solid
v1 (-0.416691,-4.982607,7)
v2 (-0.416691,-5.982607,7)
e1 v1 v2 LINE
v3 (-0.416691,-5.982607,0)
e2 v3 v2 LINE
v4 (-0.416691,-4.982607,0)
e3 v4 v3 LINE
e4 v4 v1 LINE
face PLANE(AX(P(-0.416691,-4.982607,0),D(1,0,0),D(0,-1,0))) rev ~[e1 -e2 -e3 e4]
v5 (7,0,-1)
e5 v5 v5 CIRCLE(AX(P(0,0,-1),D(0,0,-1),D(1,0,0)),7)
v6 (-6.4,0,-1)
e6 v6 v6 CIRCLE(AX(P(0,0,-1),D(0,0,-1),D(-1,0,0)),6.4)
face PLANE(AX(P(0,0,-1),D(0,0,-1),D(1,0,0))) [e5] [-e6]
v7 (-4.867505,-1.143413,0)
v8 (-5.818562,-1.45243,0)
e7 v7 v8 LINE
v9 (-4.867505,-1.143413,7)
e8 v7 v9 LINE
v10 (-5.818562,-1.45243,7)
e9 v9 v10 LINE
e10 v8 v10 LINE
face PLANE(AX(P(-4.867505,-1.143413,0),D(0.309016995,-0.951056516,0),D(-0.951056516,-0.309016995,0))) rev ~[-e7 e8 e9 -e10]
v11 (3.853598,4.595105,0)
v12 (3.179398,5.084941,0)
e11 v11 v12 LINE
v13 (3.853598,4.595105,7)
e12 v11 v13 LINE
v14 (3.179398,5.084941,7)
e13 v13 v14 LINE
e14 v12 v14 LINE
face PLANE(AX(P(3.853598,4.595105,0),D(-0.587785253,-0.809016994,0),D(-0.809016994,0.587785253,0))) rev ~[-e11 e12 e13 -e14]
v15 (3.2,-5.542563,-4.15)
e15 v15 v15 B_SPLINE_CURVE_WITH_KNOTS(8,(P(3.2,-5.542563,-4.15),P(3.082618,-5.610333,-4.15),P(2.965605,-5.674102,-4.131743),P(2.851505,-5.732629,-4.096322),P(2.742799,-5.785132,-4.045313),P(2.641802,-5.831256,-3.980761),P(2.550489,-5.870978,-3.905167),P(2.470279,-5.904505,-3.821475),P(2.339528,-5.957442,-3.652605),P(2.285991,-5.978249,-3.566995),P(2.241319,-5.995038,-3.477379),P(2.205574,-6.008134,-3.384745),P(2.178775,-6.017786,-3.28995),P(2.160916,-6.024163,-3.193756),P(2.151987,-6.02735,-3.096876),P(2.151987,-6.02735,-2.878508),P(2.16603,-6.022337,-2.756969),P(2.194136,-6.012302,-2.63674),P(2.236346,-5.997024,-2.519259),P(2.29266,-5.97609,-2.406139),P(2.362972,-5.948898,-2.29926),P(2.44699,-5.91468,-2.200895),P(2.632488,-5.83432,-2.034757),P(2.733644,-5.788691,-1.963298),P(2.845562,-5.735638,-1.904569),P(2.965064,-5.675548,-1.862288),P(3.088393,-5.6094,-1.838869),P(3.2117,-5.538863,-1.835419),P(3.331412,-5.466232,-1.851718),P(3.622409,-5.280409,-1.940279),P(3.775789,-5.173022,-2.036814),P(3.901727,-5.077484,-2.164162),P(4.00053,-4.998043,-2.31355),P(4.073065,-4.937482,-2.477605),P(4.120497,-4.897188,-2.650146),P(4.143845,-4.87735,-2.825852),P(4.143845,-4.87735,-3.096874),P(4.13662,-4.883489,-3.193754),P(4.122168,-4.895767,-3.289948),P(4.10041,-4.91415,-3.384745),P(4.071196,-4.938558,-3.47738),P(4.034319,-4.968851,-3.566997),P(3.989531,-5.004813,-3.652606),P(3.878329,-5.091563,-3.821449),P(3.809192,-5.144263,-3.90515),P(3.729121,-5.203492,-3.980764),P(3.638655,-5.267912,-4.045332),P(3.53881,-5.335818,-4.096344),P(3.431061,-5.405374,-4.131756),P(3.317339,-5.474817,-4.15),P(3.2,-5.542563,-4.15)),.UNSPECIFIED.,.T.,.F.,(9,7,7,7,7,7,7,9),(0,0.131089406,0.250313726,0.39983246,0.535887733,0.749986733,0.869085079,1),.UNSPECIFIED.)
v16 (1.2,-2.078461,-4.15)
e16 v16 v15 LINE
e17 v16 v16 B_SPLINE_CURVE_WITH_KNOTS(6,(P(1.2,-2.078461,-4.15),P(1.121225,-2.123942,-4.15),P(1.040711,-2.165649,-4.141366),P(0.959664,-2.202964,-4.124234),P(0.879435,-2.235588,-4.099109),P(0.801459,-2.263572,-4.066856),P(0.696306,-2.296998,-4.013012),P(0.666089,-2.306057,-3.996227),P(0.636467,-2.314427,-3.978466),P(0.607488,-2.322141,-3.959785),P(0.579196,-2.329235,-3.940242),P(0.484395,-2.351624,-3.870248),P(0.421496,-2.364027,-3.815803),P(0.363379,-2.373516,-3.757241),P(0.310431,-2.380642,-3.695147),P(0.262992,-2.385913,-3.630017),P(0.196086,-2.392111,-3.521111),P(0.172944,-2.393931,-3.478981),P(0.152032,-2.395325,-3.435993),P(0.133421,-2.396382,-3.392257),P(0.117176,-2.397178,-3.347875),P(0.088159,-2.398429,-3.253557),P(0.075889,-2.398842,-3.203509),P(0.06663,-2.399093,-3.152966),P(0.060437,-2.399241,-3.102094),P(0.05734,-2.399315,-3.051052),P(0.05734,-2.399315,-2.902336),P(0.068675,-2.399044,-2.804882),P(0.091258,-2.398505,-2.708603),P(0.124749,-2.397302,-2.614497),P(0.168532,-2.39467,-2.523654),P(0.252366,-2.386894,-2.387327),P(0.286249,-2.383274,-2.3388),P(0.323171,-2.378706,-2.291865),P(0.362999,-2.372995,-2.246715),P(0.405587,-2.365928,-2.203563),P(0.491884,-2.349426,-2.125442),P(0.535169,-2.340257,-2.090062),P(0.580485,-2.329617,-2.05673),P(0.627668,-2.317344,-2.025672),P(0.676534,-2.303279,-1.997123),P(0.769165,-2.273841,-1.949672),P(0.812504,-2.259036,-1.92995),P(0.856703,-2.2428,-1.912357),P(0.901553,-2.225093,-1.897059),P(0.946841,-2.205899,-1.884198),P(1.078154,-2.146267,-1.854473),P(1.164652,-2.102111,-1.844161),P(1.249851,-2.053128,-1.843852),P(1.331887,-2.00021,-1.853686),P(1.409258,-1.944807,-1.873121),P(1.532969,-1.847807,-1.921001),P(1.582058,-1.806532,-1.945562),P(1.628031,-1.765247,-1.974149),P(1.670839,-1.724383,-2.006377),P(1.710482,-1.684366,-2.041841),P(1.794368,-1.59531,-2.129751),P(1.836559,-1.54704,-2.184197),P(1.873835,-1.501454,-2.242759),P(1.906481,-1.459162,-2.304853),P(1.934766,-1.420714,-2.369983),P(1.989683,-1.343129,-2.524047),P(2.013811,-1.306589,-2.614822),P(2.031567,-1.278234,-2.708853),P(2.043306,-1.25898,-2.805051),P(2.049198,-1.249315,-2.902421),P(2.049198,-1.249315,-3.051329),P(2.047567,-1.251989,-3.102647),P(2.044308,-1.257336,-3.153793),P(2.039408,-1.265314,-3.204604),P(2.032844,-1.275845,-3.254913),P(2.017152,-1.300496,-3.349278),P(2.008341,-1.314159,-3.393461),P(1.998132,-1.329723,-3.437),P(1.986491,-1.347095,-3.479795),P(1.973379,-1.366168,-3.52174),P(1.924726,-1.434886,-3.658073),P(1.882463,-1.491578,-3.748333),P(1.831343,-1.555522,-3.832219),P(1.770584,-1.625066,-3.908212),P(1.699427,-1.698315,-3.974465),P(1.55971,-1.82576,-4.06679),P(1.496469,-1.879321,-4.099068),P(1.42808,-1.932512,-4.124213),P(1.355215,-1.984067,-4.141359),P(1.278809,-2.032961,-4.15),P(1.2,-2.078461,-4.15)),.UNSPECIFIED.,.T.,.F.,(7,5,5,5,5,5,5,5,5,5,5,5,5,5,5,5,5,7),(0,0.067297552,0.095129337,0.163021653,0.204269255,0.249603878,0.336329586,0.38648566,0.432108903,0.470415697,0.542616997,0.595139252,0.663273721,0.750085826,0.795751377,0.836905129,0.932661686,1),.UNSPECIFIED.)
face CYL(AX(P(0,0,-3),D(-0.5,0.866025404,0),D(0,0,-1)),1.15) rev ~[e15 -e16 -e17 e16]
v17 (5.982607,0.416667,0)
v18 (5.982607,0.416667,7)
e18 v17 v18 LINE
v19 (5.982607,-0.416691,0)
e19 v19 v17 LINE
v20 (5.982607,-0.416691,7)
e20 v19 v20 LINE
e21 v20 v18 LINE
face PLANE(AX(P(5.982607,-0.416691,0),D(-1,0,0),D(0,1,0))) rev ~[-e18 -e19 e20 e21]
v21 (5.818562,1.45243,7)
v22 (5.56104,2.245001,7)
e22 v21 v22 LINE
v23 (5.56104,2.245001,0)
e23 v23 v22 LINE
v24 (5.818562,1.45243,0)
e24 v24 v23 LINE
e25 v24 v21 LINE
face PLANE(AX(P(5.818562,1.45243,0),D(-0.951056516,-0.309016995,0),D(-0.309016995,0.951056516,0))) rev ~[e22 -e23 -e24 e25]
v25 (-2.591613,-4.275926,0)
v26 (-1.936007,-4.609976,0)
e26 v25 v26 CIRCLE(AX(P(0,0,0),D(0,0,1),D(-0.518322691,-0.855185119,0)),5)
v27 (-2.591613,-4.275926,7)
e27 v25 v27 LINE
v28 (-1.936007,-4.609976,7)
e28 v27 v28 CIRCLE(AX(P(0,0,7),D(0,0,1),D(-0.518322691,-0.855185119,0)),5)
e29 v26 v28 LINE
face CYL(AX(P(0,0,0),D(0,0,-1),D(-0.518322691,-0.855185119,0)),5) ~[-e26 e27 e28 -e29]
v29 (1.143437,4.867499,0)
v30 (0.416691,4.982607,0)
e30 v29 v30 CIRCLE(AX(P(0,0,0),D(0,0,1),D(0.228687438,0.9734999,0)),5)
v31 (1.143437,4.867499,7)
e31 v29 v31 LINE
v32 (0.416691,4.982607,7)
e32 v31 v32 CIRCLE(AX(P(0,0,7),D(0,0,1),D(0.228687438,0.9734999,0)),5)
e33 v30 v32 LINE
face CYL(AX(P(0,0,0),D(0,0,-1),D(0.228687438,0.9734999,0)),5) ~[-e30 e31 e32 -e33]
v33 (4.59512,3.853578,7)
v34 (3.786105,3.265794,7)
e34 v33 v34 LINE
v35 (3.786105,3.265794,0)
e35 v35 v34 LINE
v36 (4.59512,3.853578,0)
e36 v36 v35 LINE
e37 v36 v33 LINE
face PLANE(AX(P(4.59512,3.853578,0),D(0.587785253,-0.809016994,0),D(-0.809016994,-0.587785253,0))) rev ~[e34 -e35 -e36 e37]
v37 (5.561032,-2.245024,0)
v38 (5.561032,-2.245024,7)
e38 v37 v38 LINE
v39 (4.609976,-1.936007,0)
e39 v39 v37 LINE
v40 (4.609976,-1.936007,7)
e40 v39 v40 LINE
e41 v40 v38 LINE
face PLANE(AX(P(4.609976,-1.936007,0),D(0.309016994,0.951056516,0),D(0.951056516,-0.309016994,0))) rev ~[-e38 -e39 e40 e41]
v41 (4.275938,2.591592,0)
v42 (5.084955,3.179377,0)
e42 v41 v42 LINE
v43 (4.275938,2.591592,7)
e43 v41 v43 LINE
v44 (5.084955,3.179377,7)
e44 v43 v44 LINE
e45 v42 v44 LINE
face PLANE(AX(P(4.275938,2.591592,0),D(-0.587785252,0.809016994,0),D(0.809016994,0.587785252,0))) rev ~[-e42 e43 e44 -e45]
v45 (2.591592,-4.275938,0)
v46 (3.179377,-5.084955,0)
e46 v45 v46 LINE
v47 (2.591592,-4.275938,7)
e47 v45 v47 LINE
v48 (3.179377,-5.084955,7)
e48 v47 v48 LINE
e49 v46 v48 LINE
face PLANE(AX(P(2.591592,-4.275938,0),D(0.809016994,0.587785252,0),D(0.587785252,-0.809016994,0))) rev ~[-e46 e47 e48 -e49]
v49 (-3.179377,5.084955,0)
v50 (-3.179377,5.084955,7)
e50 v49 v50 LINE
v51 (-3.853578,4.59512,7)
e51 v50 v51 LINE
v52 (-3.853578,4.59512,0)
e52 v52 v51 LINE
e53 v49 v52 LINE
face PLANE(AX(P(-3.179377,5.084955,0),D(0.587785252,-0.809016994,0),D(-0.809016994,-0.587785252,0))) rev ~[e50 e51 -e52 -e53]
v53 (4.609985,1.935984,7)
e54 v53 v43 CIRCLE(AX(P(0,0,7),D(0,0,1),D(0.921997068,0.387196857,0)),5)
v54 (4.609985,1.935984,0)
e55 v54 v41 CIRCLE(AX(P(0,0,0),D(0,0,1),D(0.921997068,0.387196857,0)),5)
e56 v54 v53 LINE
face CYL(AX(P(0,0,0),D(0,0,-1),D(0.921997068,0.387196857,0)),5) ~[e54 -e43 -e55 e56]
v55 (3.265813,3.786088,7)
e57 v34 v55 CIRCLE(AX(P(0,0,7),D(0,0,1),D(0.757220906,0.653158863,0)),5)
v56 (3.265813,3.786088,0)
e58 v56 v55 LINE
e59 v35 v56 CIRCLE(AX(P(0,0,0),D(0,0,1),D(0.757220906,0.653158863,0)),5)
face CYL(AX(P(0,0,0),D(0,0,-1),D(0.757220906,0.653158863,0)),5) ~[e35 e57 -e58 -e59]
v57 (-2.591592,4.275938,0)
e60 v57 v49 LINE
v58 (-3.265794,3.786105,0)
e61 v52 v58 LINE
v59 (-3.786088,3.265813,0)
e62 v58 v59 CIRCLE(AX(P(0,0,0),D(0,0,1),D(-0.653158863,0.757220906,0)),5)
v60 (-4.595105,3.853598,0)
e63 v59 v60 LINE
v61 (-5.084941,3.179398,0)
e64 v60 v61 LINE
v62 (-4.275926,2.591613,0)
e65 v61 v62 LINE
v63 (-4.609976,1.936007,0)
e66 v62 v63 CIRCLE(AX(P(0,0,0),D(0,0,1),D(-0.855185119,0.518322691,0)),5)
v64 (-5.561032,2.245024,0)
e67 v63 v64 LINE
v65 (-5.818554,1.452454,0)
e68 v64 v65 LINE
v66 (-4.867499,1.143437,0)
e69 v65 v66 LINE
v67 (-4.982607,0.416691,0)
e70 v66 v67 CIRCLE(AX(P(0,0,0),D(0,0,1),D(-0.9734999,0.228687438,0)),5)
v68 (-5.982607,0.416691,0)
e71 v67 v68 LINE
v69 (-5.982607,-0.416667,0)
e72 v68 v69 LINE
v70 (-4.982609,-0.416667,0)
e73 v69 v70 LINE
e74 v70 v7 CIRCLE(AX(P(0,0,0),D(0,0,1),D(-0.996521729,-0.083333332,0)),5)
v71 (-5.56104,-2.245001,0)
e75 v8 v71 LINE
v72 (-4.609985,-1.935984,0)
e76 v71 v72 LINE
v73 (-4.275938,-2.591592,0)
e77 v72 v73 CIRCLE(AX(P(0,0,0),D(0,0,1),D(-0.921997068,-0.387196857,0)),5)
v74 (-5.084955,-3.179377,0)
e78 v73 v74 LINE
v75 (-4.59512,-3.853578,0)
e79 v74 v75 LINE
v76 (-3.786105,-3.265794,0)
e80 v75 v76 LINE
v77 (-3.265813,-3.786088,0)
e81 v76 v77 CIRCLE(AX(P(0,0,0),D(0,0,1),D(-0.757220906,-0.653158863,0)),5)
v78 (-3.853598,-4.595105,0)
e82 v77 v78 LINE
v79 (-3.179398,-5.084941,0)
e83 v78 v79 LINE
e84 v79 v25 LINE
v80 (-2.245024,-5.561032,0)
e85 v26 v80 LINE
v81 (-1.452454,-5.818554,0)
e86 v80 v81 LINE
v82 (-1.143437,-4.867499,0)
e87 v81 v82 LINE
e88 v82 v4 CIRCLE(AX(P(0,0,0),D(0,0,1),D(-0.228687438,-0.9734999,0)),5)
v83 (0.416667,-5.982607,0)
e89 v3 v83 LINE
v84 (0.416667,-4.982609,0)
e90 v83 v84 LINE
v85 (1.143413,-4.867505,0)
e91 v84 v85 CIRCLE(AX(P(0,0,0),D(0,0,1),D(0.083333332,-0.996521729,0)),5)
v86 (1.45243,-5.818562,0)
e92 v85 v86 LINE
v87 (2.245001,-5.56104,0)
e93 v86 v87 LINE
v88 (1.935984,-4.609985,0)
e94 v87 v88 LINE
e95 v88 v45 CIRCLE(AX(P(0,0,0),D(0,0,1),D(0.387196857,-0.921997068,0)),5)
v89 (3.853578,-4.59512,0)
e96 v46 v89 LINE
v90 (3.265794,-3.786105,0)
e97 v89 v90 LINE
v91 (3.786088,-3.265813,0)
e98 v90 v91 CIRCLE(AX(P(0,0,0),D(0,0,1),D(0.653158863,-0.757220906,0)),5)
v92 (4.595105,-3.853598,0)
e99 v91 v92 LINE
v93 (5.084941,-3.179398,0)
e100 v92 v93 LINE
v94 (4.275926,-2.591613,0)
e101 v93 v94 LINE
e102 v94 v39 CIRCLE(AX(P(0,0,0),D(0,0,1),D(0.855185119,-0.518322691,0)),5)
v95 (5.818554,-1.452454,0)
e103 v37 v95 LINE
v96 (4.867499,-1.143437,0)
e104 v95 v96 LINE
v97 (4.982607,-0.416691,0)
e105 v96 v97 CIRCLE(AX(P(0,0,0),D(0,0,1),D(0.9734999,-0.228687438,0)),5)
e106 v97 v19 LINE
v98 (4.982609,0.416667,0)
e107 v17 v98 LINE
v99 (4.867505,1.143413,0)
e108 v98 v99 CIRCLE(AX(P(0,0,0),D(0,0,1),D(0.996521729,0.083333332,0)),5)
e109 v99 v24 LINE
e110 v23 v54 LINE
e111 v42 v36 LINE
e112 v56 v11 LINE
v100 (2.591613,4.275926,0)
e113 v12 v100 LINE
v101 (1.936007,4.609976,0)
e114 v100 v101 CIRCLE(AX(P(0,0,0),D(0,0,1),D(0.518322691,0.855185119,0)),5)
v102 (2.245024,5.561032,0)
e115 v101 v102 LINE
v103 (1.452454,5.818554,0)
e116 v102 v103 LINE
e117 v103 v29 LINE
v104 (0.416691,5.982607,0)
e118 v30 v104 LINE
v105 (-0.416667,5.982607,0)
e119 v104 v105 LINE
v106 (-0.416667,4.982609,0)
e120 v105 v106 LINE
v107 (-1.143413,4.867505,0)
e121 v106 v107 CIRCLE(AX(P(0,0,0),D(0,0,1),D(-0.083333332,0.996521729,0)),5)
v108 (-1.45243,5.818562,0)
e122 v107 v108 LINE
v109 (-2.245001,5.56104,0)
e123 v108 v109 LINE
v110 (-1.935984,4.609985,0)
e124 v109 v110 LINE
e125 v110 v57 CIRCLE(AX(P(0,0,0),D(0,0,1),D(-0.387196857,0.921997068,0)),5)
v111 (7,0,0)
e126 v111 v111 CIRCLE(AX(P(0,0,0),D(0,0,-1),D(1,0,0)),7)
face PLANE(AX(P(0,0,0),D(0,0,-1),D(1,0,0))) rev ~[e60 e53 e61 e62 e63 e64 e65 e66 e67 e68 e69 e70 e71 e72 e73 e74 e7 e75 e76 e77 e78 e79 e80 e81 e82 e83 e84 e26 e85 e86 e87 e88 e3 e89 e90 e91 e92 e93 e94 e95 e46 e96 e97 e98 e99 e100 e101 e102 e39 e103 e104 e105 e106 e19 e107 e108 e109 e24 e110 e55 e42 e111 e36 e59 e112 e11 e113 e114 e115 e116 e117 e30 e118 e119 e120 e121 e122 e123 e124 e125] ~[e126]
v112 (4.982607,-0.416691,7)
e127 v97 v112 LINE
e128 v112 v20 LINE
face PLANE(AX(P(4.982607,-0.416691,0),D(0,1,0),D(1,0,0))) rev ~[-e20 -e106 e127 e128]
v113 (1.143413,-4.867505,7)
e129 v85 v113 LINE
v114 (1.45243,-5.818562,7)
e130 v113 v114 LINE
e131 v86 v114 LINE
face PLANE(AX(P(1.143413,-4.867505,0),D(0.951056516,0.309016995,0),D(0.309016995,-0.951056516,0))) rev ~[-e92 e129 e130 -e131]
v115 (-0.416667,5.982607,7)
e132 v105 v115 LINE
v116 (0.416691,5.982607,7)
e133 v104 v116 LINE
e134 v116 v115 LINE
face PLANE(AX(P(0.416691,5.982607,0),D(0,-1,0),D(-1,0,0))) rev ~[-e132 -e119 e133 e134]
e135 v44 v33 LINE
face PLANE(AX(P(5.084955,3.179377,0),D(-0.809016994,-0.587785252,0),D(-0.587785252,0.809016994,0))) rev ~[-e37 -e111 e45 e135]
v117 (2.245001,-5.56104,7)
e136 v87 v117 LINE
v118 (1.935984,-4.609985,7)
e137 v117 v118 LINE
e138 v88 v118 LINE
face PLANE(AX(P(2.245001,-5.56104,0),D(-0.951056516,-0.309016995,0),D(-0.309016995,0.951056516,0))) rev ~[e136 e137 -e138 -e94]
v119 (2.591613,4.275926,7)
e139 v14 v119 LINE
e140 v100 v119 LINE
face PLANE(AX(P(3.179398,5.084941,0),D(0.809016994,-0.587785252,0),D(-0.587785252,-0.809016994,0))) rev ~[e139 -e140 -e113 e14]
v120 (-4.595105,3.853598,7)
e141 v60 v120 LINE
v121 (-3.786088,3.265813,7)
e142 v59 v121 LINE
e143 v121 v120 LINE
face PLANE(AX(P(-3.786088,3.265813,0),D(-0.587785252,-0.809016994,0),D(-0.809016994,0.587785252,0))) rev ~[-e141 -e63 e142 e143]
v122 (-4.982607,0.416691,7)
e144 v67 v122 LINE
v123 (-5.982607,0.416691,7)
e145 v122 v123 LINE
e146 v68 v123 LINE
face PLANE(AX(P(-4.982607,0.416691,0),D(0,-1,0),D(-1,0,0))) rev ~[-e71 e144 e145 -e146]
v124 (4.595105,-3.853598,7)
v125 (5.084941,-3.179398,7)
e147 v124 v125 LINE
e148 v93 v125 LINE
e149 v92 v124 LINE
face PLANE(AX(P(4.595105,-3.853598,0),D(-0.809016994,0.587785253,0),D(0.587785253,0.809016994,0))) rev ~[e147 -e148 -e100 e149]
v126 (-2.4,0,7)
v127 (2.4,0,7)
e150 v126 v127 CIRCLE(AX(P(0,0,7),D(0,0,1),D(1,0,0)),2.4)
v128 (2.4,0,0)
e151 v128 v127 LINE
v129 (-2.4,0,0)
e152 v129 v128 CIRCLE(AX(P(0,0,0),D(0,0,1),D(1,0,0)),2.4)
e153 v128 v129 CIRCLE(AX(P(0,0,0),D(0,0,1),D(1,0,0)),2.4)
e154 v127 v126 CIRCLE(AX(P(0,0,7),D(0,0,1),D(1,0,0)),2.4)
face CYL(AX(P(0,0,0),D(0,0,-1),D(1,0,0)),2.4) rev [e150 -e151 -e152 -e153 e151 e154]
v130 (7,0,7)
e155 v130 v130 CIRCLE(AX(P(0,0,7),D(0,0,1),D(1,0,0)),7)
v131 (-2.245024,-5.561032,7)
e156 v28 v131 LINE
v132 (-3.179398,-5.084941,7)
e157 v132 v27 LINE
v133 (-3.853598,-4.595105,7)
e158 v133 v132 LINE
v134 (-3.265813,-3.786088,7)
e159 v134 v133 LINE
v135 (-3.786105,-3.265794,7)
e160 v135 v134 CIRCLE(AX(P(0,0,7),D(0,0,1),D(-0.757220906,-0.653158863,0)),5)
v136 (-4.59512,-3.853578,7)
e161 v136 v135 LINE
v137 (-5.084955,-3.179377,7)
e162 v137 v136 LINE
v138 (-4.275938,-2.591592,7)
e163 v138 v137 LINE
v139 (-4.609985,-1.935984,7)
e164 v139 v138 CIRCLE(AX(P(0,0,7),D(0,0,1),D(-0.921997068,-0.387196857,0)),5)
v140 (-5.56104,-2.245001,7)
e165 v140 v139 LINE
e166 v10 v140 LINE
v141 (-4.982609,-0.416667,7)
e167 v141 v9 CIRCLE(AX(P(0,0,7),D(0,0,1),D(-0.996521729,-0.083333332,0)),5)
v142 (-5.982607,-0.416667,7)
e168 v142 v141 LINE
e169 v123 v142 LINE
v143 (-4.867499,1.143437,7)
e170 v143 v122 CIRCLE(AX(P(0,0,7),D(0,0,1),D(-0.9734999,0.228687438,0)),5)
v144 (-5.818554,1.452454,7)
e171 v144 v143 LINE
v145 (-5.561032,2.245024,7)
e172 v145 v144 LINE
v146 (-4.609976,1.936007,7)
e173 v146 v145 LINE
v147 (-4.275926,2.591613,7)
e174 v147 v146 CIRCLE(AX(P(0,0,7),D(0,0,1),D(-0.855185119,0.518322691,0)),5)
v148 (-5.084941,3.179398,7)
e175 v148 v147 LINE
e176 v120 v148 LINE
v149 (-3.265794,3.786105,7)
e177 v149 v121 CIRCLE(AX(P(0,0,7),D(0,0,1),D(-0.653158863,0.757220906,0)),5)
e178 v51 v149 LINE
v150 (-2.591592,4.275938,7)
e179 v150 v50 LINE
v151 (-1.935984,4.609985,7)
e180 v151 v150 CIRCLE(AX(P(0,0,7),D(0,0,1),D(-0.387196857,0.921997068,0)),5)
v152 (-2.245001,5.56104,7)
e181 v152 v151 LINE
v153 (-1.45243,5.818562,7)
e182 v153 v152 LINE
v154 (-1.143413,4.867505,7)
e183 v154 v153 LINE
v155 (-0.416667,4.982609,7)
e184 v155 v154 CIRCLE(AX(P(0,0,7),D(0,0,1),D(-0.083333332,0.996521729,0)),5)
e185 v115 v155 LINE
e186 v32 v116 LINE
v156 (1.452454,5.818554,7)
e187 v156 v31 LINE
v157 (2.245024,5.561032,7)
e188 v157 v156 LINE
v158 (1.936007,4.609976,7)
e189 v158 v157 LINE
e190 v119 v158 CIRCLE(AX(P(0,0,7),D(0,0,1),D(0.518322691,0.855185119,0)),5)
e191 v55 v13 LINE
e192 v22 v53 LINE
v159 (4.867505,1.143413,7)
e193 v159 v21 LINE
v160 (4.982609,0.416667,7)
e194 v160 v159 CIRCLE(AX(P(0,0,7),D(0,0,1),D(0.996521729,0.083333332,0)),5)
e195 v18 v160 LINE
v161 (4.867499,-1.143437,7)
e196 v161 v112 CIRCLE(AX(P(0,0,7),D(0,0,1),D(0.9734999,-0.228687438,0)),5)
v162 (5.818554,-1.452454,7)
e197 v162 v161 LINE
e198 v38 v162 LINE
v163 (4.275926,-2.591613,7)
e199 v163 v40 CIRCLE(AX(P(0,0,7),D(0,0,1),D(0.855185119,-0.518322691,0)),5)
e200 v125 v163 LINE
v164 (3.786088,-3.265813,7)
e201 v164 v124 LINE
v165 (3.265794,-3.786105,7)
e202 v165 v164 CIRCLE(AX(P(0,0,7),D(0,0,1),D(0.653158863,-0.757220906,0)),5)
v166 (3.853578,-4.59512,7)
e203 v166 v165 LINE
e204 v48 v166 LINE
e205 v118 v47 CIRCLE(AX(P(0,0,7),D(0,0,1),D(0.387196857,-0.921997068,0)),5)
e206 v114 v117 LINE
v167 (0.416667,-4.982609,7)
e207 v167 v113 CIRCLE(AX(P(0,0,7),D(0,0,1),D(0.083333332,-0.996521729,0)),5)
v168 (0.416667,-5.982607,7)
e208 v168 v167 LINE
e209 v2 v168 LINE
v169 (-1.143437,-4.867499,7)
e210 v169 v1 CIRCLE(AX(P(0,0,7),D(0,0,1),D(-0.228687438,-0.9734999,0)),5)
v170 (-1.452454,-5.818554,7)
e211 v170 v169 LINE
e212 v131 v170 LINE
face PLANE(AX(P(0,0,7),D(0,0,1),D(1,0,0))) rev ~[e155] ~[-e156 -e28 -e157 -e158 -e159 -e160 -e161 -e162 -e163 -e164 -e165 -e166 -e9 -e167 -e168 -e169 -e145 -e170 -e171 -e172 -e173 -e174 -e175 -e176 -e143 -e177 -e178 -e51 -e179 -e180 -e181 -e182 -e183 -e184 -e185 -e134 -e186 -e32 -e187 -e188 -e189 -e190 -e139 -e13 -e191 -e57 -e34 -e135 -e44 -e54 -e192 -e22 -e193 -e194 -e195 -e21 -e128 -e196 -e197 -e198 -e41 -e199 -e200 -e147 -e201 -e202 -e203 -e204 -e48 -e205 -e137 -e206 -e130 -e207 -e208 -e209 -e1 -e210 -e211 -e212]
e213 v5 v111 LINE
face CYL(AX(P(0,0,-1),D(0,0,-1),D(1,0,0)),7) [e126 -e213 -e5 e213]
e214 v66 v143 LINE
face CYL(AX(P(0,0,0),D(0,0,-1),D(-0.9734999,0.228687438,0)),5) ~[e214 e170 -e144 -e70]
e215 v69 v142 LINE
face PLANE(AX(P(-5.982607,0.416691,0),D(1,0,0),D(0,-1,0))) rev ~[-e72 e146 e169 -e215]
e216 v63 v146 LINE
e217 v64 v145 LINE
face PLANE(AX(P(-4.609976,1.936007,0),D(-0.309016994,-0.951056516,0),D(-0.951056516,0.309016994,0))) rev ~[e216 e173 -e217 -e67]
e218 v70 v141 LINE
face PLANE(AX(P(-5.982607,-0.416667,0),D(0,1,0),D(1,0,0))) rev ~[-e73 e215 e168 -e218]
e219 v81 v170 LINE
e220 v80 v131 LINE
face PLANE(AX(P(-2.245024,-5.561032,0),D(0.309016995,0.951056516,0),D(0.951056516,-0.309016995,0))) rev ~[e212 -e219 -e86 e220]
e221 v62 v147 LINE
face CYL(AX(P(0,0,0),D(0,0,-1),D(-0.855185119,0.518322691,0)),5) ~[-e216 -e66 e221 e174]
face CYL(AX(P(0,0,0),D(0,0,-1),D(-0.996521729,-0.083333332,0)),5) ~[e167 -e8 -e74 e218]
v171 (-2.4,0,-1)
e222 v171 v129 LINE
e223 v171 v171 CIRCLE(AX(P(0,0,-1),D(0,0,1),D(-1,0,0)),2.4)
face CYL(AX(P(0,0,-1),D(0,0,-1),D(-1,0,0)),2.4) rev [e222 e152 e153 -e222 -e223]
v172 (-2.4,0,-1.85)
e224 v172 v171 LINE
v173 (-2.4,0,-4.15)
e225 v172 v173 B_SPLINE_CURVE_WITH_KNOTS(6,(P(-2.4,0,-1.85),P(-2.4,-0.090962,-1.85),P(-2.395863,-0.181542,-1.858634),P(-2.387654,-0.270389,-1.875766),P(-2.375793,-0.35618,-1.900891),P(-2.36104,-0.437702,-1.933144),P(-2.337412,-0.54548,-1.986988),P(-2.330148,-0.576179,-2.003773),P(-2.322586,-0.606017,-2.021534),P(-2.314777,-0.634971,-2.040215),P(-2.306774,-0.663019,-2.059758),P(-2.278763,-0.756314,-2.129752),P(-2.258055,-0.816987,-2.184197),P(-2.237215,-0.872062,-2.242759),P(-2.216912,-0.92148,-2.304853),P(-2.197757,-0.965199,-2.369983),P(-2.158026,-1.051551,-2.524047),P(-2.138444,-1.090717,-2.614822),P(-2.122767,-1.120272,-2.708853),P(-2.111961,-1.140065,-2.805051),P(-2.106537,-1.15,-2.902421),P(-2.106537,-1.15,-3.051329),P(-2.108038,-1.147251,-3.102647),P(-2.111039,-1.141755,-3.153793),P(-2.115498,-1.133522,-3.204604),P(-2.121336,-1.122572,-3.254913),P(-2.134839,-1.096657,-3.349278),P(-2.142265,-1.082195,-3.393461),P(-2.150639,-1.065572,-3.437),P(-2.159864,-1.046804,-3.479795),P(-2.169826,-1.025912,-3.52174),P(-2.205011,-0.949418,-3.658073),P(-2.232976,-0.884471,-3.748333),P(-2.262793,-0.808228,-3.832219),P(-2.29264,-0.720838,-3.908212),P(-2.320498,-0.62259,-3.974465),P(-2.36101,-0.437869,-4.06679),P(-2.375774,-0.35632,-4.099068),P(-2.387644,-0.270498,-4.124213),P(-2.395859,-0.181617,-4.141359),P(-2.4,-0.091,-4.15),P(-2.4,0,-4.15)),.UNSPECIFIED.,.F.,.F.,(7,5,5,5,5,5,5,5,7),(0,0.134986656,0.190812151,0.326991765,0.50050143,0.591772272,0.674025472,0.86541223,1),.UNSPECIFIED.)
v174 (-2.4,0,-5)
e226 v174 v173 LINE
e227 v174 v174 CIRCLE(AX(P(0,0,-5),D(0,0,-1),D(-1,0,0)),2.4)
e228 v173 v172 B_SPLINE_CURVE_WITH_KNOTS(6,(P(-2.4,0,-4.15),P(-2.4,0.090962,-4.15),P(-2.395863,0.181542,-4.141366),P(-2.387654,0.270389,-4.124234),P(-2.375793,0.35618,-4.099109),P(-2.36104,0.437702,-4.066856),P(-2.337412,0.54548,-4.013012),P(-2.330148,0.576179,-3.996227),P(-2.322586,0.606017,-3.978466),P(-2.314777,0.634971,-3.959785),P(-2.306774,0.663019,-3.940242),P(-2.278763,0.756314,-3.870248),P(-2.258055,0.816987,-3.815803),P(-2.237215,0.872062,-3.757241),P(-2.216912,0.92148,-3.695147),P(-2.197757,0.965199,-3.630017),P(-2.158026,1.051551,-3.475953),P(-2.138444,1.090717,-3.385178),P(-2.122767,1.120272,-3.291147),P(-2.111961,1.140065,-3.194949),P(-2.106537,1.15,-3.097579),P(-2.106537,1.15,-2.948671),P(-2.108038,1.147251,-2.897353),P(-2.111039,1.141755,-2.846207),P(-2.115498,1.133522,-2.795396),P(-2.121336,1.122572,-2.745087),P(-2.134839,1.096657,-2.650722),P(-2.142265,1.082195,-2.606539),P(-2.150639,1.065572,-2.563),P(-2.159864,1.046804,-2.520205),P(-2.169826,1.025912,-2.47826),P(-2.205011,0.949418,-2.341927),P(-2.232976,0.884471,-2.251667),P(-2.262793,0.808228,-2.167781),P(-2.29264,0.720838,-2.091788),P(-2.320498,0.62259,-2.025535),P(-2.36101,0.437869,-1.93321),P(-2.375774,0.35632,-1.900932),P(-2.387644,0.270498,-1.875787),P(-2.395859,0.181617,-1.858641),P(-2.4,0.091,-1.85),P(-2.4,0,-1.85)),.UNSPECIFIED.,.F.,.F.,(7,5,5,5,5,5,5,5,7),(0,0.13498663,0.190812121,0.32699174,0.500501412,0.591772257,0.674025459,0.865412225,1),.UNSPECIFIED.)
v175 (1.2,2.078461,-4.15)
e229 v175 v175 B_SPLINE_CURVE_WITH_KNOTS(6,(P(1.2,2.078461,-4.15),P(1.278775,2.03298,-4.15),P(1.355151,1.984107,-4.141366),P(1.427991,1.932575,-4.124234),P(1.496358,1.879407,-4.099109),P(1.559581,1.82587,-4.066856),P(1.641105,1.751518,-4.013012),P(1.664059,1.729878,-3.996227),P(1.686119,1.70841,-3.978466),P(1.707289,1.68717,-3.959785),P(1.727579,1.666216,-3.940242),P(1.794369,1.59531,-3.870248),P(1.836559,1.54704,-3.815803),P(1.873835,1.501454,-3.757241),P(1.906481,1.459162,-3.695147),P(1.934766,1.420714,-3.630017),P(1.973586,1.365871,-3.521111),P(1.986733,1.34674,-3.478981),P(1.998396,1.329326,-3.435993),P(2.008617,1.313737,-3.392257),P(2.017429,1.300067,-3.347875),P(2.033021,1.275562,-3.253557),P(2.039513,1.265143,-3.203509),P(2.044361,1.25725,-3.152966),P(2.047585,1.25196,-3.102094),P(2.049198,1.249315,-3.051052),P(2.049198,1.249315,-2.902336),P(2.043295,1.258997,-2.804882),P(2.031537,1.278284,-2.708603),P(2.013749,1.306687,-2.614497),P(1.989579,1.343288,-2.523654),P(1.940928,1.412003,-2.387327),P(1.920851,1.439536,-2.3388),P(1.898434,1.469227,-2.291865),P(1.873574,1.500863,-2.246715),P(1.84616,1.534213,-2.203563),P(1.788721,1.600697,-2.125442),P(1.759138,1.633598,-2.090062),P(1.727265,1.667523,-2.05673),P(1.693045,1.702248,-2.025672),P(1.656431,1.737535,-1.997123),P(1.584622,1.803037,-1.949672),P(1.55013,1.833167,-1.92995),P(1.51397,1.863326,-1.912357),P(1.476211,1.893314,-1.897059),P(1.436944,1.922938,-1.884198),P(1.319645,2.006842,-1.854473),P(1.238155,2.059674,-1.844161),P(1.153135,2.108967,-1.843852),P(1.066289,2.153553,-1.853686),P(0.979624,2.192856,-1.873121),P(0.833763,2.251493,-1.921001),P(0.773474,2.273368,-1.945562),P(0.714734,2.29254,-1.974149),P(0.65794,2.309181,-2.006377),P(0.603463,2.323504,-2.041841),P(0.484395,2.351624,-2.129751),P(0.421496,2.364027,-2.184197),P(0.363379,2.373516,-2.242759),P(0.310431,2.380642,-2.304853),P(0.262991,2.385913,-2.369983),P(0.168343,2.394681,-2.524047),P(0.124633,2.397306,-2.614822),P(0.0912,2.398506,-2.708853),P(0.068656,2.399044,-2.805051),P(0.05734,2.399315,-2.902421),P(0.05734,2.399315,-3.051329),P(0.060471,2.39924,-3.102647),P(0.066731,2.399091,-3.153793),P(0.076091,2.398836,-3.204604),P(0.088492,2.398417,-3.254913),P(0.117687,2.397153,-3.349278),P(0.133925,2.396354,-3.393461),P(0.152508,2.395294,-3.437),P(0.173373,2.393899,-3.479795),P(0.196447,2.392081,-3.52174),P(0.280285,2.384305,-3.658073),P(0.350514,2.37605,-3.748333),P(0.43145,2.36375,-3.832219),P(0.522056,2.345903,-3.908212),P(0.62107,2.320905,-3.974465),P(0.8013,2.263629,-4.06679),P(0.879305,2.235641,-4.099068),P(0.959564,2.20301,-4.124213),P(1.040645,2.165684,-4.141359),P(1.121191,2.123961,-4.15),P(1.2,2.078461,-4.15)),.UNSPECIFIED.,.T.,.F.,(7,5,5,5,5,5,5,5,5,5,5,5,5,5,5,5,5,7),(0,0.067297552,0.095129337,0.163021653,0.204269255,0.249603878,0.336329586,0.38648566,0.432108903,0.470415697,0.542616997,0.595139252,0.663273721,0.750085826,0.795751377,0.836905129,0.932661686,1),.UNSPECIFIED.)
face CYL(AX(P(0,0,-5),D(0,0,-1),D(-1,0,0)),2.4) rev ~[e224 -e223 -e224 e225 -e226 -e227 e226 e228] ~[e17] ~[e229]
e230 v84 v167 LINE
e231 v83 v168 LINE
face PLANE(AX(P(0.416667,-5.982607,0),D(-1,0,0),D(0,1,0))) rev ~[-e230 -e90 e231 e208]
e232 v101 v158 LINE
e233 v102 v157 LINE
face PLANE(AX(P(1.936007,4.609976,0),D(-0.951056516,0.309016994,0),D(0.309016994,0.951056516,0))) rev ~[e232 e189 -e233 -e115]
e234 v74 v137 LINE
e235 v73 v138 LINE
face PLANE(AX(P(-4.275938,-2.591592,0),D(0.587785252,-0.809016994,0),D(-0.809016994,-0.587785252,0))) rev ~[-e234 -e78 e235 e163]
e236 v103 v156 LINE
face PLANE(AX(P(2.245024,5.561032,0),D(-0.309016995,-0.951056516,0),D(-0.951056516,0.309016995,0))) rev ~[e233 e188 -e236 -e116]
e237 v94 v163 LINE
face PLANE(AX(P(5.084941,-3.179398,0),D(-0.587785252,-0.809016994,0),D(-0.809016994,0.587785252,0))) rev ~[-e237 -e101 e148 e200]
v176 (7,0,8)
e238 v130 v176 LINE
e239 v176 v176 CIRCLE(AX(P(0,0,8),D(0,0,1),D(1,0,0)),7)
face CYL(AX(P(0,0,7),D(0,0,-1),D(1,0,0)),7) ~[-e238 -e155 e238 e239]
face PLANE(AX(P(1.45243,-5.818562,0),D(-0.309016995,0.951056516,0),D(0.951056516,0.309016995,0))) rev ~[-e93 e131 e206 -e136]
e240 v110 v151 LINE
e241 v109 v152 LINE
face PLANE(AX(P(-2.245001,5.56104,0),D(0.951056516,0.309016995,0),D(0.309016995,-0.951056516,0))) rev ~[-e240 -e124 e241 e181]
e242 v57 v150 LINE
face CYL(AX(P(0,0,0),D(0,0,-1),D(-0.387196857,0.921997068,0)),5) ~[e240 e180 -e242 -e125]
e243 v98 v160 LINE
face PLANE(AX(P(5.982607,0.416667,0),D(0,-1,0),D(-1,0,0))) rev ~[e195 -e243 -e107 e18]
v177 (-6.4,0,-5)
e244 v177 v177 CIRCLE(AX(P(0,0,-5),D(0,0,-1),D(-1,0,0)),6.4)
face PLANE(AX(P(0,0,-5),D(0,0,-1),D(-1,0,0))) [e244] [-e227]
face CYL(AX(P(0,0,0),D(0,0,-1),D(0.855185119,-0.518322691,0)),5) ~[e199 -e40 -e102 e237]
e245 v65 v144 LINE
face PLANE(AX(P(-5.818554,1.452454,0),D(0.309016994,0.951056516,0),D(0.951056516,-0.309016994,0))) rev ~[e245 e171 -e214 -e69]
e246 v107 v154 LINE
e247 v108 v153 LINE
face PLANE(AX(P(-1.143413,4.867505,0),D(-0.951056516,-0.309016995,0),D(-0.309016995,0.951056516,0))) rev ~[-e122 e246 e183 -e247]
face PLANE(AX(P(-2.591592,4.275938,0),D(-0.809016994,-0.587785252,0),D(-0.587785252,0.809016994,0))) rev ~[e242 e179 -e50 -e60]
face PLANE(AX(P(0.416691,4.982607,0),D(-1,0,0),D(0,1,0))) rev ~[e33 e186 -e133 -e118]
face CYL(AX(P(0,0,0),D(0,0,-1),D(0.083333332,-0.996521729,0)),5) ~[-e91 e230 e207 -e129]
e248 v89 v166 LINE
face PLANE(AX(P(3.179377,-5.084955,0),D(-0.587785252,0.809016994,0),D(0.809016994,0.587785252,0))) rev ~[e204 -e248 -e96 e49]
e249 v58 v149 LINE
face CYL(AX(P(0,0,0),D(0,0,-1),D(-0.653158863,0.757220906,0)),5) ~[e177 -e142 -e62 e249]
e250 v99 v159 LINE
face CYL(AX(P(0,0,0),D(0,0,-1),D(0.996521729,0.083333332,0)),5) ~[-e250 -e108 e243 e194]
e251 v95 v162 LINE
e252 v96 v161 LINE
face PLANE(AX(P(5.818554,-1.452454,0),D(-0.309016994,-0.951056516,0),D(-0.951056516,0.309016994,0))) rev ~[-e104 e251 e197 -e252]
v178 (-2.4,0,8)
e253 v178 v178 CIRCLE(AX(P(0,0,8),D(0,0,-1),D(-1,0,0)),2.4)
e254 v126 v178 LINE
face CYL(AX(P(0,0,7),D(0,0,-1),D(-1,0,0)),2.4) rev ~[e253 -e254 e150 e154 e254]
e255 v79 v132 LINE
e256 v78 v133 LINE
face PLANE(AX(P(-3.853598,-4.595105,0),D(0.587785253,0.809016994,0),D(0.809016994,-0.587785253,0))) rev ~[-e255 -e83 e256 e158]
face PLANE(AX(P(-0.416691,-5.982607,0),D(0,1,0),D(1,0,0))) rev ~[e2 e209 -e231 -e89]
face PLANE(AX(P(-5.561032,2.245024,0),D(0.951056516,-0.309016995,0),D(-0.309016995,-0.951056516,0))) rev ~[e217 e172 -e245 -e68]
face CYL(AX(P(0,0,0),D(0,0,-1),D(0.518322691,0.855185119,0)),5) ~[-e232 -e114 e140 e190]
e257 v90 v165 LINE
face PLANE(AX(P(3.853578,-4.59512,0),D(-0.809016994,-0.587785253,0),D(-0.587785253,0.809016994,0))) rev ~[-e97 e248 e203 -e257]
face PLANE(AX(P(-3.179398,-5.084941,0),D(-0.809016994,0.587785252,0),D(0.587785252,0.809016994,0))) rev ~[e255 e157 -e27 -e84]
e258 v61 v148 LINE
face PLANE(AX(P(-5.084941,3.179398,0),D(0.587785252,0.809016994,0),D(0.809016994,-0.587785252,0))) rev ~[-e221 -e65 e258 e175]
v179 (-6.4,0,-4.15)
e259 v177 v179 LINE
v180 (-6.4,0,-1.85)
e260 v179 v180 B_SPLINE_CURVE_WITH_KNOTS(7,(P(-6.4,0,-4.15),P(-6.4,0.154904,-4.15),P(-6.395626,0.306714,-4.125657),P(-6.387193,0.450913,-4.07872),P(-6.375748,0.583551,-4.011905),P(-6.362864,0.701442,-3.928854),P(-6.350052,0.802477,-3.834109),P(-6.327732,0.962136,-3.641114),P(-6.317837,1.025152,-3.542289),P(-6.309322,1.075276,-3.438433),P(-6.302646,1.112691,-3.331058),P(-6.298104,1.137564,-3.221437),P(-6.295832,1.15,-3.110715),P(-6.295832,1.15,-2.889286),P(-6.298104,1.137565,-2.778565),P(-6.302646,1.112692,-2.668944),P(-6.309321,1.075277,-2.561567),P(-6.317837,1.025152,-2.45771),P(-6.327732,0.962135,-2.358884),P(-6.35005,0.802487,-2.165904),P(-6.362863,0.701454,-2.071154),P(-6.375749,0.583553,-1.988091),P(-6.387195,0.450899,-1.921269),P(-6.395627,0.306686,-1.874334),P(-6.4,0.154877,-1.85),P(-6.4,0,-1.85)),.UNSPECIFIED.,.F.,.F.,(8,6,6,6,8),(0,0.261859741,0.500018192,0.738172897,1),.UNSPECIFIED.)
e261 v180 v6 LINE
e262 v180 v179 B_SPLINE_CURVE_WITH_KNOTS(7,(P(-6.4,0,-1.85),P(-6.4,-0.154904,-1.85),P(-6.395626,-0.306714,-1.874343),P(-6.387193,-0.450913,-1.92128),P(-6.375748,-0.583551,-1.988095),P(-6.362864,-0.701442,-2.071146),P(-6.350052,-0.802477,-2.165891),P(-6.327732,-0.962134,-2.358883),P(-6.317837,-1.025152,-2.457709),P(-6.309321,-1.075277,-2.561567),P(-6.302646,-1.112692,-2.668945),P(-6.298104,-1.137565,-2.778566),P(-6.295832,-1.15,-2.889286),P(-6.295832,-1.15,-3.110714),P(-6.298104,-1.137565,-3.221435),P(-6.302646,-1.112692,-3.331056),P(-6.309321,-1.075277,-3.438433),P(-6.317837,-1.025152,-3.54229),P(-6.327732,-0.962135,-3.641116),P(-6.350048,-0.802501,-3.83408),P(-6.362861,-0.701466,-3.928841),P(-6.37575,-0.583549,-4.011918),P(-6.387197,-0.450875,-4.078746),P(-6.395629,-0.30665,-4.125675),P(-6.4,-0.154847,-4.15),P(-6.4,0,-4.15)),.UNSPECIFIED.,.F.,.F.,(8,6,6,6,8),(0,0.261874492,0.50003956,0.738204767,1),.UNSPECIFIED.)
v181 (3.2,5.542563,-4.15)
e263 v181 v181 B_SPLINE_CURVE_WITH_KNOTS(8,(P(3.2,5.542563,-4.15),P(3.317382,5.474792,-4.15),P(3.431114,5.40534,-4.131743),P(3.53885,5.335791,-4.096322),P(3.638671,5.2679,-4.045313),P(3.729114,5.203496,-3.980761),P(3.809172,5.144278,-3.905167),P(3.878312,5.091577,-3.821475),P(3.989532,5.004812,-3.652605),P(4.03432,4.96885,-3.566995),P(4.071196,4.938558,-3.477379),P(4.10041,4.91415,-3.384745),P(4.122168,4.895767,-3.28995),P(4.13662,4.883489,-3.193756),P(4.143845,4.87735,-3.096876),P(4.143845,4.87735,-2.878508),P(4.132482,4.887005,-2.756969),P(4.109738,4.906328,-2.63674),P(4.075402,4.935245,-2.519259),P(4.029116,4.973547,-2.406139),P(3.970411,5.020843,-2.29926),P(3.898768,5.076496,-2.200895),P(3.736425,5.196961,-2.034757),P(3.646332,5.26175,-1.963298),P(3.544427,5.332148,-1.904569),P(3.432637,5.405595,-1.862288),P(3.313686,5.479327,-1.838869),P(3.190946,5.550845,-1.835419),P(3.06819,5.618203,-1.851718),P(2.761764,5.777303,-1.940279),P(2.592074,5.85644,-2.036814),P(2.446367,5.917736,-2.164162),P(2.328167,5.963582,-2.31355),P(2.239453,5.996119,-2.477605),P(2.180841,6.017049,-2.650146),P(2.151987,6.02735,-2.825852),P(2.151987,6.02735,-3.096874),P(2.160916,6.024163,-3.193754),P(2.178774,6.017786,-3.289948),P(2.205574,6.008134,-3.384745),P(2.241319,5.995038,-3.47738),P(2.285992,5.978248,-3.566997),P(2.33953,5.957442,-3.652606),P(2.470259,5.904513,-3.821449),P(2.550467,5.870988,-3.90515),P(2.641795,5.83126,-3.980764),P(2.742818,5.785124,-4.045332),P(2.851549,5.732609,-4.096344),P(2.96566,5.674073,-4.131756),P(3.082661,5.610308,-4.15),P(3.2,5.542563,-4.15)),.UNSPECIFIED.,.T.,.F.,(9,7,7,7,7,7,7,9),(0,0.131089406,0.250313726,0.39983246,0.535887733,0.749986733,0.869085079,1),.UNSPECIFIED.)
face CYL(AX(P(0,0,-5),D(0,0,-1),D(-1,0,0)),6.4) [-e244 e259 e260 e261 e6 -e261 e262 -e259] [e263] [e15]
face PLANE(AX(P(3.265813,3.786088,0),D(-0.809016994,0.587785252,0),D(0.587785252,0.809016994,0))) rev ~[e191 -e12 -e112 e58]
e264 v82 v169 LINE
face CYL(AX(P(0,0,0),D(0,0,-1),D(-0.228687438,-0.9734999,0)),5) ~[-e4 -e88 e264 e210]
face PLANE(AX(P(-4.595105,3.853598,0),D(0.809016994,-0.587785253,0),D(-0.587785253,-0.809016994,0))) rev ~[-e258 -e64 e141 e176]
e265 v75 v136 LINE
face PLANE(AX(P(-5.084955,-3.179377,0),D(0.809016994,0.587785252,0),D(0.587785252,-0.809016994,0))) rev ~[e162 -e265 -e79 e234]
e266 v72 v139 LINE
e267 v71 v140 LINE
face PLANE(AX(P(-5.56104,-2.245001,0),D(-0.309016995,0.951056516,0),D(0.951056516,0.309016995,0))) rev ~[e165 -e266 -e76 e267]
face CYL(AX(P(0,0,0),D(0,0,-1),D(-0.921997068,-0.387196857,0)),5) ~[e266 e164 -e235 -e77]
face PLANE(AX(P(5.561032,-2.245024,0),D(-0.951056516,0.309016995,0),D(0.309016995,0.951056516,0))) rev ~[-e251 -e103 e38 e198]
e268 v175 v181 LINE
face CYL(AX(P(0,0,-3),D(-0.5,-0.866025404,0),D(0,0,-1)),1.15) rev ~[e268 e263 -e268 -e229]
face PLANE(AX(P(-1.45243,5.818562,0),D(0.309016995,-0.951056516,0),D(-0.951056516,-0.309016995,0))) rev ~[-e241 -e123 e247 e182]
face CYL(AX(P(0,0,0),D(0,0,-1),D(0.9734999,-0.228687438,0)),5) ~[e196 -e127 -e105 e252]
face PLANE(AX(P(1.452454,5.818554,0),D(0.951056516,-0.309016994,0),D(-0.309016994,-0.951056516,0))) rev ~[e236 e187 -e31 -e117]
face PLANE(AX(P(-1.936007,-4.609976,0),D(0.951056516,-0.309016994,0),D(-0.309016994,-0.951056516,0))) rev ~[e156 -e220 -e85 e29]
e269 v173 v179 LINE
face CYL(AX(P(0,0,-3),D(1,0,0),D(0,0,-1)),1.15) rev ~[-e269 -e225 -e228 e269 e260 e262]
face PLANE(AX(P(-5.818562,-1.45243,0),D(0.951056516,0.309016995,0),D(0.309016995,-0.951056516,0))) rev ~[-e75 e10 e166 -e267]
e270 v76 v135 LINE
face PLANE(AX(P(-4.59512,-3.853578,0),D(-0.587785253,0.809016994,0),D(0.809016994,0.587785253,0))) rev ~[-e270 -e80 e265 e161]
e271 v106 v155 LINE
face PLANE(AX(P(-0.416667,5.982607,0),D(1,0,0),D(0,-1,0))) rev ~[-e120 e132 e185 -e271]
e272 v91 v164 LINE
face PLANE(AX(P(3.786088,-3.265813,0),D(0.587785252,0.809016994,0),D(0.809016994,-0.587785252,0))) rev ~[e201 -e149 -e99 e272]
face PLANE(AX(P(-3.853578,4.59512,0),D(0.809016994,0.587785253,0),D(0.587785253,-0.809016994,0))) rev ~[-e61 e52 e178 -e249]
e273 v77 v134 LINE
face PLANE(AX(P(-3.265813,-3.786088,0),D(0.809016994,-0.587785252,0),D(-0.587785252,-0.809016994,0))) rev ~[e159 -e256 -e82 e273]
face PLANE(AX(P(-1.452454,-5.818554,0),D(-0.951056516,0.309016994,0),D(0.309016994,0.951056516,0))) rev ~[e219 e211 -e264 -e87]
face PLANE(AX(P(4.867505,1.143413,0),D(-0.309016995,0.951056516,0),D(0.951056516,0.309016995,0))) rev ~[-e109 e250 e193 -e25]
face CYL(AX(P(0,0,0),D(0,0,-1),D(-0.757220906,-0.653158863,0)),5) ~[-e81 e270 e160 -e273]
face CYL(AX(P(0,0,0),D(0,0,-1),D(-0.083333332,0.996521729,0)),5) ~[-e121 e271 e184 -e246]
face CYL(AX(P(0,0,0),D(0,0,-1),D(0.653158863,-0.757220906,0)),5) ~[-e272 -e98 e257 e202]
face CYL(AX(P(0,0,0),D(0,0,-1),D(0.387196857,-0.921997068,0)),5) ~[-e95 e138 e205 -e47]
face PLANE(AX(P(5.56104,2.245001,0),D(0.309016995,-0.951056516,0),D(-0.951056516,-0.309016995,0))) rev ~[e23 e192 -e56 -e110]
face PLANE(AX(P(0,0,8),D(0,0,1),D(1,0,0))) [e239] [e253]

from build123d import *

# Parameters (mm, degrees)
ESQUISSE1_R                  = 2.4
BOSS_EXTRU_1_DEPTH           = 7
ESQUISSE2_R                  = 7
BOSS_EXTRU_2_DEPTH           = 1
ESQUISSE3_R                  = 2.4
ENL_V_MAT_EXTRU_1_DEPTH      = 1
BOSS_EXTRU_3_START           = 1
ESQUISSE4_R                  = 7
BOSS_EXTRU_3_DEPTH           = 1
ENL_V_START                  = -1
ESQUISSE5_R                  = 2.4
ENL_V_MAT_EXTRU_2_DEPTH      = 1
BOSS_EXTRU_4_START           = 4
ESQUISSE6_R                  = 6.4
ESQUISSE6_R_2                = 2.4
BOSS_EXTRU_4_DEPTH           = 4
ESQUISSE7_R                  = 1.15
ENL_V_MAT_EXTRU_3_DEPTH      = 8
R_P_TITION_CIRCULAIRE1_COUNT = 3


with BuildPart() as part:
    # Esquisse1 → Boss.-Extru.1 (new body)
    with BuildSketch(Plane.XY):
        with BuildLine():
            Line((0.41669139, 5.982606575), (-0.416666667, 5.982606575))
            Line((-0.416666667, 5.982606575), (-0.416666667, 4.982608643))
            ThreePointArc((-0.416666667, 4.982608643), (-0.782160073, 4.938443644), (-1.143413046, 4.867505173))
            Line((-1.143413046, 4.867505173), (-1.452430041, 5.818561689))
            Line((-1.452430041, 5.818561689), (-2.245000651, 5.561039887))
            Line((-2.245000651, 5.561039887), (-1.935984295, 4.609985337))
            ThreePointArc((-1.935984295, 4.609985337), (-2.269941446, 4.455038253), (-2.591592247, 4.27593845))
            Line((-2.591592247, 4.27593845), (-3.179377499, 5.084955444))
            Line((-3.179377499, 5.084955444), (-3.85357833, 4.595119868))
            Line((-3.85357833, 4.595119868), (-3.265794293, 3.786104547))
            ThreePointArc((-3.265794293, 3.786104547), (-3.535525134, 3.535542677), (-3.786088342, 3.265813079))
            Line((-3.786088342, 3.265813079), (-4.595105336, 3.853598331))
            Line((-4.595105336, 3.853598331), (-5.084940912, 3.179397501))
            Line((-5.084940912, 3.179397501), (-4.27592559, 2.591613464))
            ThreePointArc((-4.27592559, 2.591613464), (-4.455026989, 2.269963551), (-4.609975731, 1.93600717))
            Line((-4.609975731, 1.93600717), (-5.561032247, 2.245024164))
            Line((-5.561032247, 2.245024164), (-5.818554049, 1.452453554))
            Line((-5.818554049, 1.452453554), (-4.867499499, 1.143437199))
            ThreePointArc((-4.867499499, 1.143437199), (-4.938439762, 0.782184577), (-4.982606575, 0.41669139))
            Line((-4.982606575, 0.41669139), (-5.982606575, 0.41669139))
            Line((-5.982606575, 0.41669139), (-5.982606575, -0.416666667))
            Line((-5.982606575, -0.416666667), (-4.982608643, -0.416666667))
            ThreePointArc((-4.982608643, -0.416666667), (-4.938443644, -0.782160073), (-4.867505173, -1.143413046))
            Line((-4.867505173, -1.143413046), (-5.818561689, -1.452430041))
            Line((-5.818561689, -1.452430041), (-5.561039887, -2.245000651))
            Line((-5.561039887, -2.245000651), (-4.609985337, -1.935984295))
            ThreePointArc((-4.609985337, -1.935984295), (-4.455038253, -2.269941446), (-4.27593845, -2.591592247))
            Line((-4.27593845, -2.591592247), (-5.084955444, -3.179377499))
            Line((-5.084955444, -3.179377499), (-4.595119868, -3.85357833))
            Line((-4.595119868, -3.85357833), (-3.786104547, -3.265794293))
            ThreePointArc((-3.786104547, -3.265794293), (-3.535542677, -3.535525134), (-3.265813079, -3.786088342))
            Line((-3.265813079, -3.786088342), (-3.853598331, -4.595105336))
            Line((-3.853598331, -4.595105336), (-3.179397501, -5.084940912))
            Line((-3.179397501, -5.084940912), (-2.591613464, -4.27592559))
            ThreePointArc((-2.591613464, -4.27592559), (-2.269963551, -4.455026989), (-1.93600717, -4.609975731))
            Line((-1.93600717, -4.609975731), (-2.245024164, -5.561032247))
            Line((-2.245024164, -5.561032247), (-1.452453554, -5.818554049))
            Line((-1.452453554, -5.818554049), (-1.143437199, -4.867499499))
            ThreePointArc((-1.143437199, -4.867499499), (-0.782184577, -4.938439762), (-0.41669139, -4.982606575))
            Line((-0.41669139, -4.982606575), (-0.41669139, -5.982606575))
            Line((-0.41669139, -5.982606575), (0.416666667, -5.982606575))
            Line((0.416666667, -5.982606575), (0.416666667, -4.982608643))
            ThreePointArc((0.416666667, -4.982608643), (0.782160073, -4.938443644), (1.143413046, -4.867505173))
            Line((1.143413046, -4.867505173), (1.452430041, -5.818561689))
            Line((1.452430041, -5.818561689), (2.245000651, -5.561039887))
            Line((2.245000651, -5.561039887), (1.935984295, -4.609985337))
            ThreePointArc((1.935984295, -4.609985337), (2.269941446, -4.455038253), (2.591592247, -4.27593845))
            Line((2.591592247, -4.27593845), (3.179377499, -5.084955444))
            Line((3.179377499, -5.084955444), (3.85357833, -4.595119868))
            Line((3.85357833, -4.595119868), (3.265794293, -3.786104547))
            ThreePointArc((3.265794293, -3.786104547), (3.535525134, -3.535542677), (3.786088342, -3.265813079))
            Line((3.786088342, -3.265813079), (4.595105336, -3.853598331))
            Line((4.595105336, -3.853598331), (5.084940912, -3.179397501))
            Line((5.084940912, -3.179397501), (4.27592559, -2.591613464))
            ThreePointArc((4.27592559, -2.591613464), (4.455026989, -2.269963551), (4.609975731, -1.93600717))
            Line((4.609975731, -1.93600717), (5.561032247, -2.245024164))
            Line((5.561032247, -2.245024164), (5.818554049, -1.452453554))
            Line((5.818554049, -1.452453554), (4.867499499, -1.143437199))
            ThreePointArc((4.867499499, -1.143437199), (4.938439762, -0.782184577), (4.982606575, -0.41669139))
            Line((4.982606575, -0.41669139), (5.982606575, -0.41669139))
            Line((5.982606575, -0.41669139), (5.982606575, 0.416666667))
            Line((5.982606575, 0.416666667), (4.982608643, 0.416666667))
            ThreePointArc((4.982608643, 0.416666667), (4.938443644, 0.782160073), (4.867505173, 1.143413046))
            Line((4.867505173, 1.143413046), (5.818561689, 1.452430041))
            Line((5.818561689, 1.452430041), (5.561039887, 2.245000651))
            Line((5.561039887, 2.245000651), (4.609985337, 1.935984295))
            ThreePointArc((4.609985337, 1.935984295), (4.455038253, 2.269941446), (4.27593845, 2.591592247))
            Line((4.27593845, 2.591592247), (5.084955444, 3.179377499))
            Line((5.084955444, 3.179377499), (4.595119868, 3.85357833))
            Line((4.595119868, 3.85357833), (3.786104547, 3.265794293))
            ThreePointArc((3.786104547, 3.265794293), (3.535542677, 3.535525134), (3.265813079, 3.786088342))
            Line((3.265813079, 3.786088342), (3.853598331, 4.595105336))
            Line((3.853598331, 4.595105336), (3.179397501, 5.084940912))
            Line((3.179397501, 5.084940912), (2.591613464, 4.27592559))
            ThreePointArc((2.591613464, 4.27592559), (2.269963551, 4.455026989), (1.93600717, 4.609975731))
            Line((1.93600717, 4.609975731), (2.245024164, 5.561032247))
            Line((2.245024164, 5.561032247), (1.452453554, 5.818554049))
            Line((1.452453554, 5.818554049), (1.143437199, 4.867499499))
            ThreePointArc((1.143437199, 4.867499499), (0.782184577, 4.938439762), (0.41669139, 4.982606575))
            Line((0.41669139, 4.982606575), (0.41669139, 5.982606575))
        make_face()
        Circle(ESQUISSE1_R, mode=Mode.SUBTRACT)
    extrude(amount=BOSS_EXTRU_1_DEPTH)

    # Esquisse2 → Boss.-Extru.2 (add)
    with BuildSketch(Plane.XY.offset(7)):
        Circle(ESQUISSE2_R)
    extrude(amount=BOSS_EXTRU_2_DEPTH)

    # Esquisse3 → Enlèv. mat.-Extru.1 (cut)
    with BuildSketch(Plane(origin=(0, 0, 7), x_dir=(-1, 0, 0), z_dir=(0, 0, -1))):
        Circle(ESQUISSE3_R)
    extrude(amount=-ENL_V_MAT_EXTRU_1_DEPTH, mode=Mode.SUBTRACT)

    # Esquisse4 → Boss.-Extru.3 (add)
    with BuildSketch(Plane(origin=(0, 0, 0), x_dir=(-1, 0, 0), z_dir=(0, 0, -1)).offset(BOSS_EXTRU_3_START)):
        with Locations(Location((0, 0, 0), (0, 0, 180))):
            Circle(ESQUISSE4_R)
    extrude(amount=-BOSS_EXTRU_3_DEPTH)

    # Esquisse5 → Enlèv. mat.-Extru.2 (cut)
    with BuildSketch(Plane.XY.offset(ENL_V_START)):
        with Locations(Location((0, 0, 0), (0, 0, 180))):
            Circle(ESQUISSE5_R)
    extrude(amount=ENL_V_MAT_EXTRU_2_DEPTH, mode=Mode.SUBTRACT)

    # Esquisse6 → Boss.-Extru.4 (add)
    with BuildSketch(Plane(origin=(0, 0, -1), x_dir=(-1, 0, 0), z_dir=(0, 0, -1)).offset(BOSS_EXTRU_4_START)):
        Circle(ESQUISSE6_R)
        Circle(ESQUISSE6_R_2, mode=Mode.SUBTRACT)
    extrude(amount=-BOSS_EXTRU_4_DEPTH)

    # Esquisse7 → Enlèv. mat.-Extru.3 (cut)
    with BuildSketch(Plane(origin=(0, 0, 0), x_dir=(0, 0, -1), z_dir=(1, 0, 0))):
        with Locations((3, 0)):
            Circle(ESQUISSE7_R)
    enl_v_mat_extru_3 = extrude(amount=-ENL_V_MAT_EXTRU_3_DEPTH, mode=Mode.SUBTRACT)

    # Répétition circulaire1: Enlèv. mat.-Extru.3 ×3 about axis
    r_p_tition_circulaire1_axis = Axis((0, 0, 0), (0, 0, -1))
    for i in range(1, R_P_TITION_CIRCULAIRE1_COUNT):
        add(enl_v_mat_extru_3.rotate(r_p_tition_circulaire1_axis, i * 360 / R_P_TITION_CIRCULAIRE1_COUNT), mode=Mode.SUBTRACT)


solid = part.part
